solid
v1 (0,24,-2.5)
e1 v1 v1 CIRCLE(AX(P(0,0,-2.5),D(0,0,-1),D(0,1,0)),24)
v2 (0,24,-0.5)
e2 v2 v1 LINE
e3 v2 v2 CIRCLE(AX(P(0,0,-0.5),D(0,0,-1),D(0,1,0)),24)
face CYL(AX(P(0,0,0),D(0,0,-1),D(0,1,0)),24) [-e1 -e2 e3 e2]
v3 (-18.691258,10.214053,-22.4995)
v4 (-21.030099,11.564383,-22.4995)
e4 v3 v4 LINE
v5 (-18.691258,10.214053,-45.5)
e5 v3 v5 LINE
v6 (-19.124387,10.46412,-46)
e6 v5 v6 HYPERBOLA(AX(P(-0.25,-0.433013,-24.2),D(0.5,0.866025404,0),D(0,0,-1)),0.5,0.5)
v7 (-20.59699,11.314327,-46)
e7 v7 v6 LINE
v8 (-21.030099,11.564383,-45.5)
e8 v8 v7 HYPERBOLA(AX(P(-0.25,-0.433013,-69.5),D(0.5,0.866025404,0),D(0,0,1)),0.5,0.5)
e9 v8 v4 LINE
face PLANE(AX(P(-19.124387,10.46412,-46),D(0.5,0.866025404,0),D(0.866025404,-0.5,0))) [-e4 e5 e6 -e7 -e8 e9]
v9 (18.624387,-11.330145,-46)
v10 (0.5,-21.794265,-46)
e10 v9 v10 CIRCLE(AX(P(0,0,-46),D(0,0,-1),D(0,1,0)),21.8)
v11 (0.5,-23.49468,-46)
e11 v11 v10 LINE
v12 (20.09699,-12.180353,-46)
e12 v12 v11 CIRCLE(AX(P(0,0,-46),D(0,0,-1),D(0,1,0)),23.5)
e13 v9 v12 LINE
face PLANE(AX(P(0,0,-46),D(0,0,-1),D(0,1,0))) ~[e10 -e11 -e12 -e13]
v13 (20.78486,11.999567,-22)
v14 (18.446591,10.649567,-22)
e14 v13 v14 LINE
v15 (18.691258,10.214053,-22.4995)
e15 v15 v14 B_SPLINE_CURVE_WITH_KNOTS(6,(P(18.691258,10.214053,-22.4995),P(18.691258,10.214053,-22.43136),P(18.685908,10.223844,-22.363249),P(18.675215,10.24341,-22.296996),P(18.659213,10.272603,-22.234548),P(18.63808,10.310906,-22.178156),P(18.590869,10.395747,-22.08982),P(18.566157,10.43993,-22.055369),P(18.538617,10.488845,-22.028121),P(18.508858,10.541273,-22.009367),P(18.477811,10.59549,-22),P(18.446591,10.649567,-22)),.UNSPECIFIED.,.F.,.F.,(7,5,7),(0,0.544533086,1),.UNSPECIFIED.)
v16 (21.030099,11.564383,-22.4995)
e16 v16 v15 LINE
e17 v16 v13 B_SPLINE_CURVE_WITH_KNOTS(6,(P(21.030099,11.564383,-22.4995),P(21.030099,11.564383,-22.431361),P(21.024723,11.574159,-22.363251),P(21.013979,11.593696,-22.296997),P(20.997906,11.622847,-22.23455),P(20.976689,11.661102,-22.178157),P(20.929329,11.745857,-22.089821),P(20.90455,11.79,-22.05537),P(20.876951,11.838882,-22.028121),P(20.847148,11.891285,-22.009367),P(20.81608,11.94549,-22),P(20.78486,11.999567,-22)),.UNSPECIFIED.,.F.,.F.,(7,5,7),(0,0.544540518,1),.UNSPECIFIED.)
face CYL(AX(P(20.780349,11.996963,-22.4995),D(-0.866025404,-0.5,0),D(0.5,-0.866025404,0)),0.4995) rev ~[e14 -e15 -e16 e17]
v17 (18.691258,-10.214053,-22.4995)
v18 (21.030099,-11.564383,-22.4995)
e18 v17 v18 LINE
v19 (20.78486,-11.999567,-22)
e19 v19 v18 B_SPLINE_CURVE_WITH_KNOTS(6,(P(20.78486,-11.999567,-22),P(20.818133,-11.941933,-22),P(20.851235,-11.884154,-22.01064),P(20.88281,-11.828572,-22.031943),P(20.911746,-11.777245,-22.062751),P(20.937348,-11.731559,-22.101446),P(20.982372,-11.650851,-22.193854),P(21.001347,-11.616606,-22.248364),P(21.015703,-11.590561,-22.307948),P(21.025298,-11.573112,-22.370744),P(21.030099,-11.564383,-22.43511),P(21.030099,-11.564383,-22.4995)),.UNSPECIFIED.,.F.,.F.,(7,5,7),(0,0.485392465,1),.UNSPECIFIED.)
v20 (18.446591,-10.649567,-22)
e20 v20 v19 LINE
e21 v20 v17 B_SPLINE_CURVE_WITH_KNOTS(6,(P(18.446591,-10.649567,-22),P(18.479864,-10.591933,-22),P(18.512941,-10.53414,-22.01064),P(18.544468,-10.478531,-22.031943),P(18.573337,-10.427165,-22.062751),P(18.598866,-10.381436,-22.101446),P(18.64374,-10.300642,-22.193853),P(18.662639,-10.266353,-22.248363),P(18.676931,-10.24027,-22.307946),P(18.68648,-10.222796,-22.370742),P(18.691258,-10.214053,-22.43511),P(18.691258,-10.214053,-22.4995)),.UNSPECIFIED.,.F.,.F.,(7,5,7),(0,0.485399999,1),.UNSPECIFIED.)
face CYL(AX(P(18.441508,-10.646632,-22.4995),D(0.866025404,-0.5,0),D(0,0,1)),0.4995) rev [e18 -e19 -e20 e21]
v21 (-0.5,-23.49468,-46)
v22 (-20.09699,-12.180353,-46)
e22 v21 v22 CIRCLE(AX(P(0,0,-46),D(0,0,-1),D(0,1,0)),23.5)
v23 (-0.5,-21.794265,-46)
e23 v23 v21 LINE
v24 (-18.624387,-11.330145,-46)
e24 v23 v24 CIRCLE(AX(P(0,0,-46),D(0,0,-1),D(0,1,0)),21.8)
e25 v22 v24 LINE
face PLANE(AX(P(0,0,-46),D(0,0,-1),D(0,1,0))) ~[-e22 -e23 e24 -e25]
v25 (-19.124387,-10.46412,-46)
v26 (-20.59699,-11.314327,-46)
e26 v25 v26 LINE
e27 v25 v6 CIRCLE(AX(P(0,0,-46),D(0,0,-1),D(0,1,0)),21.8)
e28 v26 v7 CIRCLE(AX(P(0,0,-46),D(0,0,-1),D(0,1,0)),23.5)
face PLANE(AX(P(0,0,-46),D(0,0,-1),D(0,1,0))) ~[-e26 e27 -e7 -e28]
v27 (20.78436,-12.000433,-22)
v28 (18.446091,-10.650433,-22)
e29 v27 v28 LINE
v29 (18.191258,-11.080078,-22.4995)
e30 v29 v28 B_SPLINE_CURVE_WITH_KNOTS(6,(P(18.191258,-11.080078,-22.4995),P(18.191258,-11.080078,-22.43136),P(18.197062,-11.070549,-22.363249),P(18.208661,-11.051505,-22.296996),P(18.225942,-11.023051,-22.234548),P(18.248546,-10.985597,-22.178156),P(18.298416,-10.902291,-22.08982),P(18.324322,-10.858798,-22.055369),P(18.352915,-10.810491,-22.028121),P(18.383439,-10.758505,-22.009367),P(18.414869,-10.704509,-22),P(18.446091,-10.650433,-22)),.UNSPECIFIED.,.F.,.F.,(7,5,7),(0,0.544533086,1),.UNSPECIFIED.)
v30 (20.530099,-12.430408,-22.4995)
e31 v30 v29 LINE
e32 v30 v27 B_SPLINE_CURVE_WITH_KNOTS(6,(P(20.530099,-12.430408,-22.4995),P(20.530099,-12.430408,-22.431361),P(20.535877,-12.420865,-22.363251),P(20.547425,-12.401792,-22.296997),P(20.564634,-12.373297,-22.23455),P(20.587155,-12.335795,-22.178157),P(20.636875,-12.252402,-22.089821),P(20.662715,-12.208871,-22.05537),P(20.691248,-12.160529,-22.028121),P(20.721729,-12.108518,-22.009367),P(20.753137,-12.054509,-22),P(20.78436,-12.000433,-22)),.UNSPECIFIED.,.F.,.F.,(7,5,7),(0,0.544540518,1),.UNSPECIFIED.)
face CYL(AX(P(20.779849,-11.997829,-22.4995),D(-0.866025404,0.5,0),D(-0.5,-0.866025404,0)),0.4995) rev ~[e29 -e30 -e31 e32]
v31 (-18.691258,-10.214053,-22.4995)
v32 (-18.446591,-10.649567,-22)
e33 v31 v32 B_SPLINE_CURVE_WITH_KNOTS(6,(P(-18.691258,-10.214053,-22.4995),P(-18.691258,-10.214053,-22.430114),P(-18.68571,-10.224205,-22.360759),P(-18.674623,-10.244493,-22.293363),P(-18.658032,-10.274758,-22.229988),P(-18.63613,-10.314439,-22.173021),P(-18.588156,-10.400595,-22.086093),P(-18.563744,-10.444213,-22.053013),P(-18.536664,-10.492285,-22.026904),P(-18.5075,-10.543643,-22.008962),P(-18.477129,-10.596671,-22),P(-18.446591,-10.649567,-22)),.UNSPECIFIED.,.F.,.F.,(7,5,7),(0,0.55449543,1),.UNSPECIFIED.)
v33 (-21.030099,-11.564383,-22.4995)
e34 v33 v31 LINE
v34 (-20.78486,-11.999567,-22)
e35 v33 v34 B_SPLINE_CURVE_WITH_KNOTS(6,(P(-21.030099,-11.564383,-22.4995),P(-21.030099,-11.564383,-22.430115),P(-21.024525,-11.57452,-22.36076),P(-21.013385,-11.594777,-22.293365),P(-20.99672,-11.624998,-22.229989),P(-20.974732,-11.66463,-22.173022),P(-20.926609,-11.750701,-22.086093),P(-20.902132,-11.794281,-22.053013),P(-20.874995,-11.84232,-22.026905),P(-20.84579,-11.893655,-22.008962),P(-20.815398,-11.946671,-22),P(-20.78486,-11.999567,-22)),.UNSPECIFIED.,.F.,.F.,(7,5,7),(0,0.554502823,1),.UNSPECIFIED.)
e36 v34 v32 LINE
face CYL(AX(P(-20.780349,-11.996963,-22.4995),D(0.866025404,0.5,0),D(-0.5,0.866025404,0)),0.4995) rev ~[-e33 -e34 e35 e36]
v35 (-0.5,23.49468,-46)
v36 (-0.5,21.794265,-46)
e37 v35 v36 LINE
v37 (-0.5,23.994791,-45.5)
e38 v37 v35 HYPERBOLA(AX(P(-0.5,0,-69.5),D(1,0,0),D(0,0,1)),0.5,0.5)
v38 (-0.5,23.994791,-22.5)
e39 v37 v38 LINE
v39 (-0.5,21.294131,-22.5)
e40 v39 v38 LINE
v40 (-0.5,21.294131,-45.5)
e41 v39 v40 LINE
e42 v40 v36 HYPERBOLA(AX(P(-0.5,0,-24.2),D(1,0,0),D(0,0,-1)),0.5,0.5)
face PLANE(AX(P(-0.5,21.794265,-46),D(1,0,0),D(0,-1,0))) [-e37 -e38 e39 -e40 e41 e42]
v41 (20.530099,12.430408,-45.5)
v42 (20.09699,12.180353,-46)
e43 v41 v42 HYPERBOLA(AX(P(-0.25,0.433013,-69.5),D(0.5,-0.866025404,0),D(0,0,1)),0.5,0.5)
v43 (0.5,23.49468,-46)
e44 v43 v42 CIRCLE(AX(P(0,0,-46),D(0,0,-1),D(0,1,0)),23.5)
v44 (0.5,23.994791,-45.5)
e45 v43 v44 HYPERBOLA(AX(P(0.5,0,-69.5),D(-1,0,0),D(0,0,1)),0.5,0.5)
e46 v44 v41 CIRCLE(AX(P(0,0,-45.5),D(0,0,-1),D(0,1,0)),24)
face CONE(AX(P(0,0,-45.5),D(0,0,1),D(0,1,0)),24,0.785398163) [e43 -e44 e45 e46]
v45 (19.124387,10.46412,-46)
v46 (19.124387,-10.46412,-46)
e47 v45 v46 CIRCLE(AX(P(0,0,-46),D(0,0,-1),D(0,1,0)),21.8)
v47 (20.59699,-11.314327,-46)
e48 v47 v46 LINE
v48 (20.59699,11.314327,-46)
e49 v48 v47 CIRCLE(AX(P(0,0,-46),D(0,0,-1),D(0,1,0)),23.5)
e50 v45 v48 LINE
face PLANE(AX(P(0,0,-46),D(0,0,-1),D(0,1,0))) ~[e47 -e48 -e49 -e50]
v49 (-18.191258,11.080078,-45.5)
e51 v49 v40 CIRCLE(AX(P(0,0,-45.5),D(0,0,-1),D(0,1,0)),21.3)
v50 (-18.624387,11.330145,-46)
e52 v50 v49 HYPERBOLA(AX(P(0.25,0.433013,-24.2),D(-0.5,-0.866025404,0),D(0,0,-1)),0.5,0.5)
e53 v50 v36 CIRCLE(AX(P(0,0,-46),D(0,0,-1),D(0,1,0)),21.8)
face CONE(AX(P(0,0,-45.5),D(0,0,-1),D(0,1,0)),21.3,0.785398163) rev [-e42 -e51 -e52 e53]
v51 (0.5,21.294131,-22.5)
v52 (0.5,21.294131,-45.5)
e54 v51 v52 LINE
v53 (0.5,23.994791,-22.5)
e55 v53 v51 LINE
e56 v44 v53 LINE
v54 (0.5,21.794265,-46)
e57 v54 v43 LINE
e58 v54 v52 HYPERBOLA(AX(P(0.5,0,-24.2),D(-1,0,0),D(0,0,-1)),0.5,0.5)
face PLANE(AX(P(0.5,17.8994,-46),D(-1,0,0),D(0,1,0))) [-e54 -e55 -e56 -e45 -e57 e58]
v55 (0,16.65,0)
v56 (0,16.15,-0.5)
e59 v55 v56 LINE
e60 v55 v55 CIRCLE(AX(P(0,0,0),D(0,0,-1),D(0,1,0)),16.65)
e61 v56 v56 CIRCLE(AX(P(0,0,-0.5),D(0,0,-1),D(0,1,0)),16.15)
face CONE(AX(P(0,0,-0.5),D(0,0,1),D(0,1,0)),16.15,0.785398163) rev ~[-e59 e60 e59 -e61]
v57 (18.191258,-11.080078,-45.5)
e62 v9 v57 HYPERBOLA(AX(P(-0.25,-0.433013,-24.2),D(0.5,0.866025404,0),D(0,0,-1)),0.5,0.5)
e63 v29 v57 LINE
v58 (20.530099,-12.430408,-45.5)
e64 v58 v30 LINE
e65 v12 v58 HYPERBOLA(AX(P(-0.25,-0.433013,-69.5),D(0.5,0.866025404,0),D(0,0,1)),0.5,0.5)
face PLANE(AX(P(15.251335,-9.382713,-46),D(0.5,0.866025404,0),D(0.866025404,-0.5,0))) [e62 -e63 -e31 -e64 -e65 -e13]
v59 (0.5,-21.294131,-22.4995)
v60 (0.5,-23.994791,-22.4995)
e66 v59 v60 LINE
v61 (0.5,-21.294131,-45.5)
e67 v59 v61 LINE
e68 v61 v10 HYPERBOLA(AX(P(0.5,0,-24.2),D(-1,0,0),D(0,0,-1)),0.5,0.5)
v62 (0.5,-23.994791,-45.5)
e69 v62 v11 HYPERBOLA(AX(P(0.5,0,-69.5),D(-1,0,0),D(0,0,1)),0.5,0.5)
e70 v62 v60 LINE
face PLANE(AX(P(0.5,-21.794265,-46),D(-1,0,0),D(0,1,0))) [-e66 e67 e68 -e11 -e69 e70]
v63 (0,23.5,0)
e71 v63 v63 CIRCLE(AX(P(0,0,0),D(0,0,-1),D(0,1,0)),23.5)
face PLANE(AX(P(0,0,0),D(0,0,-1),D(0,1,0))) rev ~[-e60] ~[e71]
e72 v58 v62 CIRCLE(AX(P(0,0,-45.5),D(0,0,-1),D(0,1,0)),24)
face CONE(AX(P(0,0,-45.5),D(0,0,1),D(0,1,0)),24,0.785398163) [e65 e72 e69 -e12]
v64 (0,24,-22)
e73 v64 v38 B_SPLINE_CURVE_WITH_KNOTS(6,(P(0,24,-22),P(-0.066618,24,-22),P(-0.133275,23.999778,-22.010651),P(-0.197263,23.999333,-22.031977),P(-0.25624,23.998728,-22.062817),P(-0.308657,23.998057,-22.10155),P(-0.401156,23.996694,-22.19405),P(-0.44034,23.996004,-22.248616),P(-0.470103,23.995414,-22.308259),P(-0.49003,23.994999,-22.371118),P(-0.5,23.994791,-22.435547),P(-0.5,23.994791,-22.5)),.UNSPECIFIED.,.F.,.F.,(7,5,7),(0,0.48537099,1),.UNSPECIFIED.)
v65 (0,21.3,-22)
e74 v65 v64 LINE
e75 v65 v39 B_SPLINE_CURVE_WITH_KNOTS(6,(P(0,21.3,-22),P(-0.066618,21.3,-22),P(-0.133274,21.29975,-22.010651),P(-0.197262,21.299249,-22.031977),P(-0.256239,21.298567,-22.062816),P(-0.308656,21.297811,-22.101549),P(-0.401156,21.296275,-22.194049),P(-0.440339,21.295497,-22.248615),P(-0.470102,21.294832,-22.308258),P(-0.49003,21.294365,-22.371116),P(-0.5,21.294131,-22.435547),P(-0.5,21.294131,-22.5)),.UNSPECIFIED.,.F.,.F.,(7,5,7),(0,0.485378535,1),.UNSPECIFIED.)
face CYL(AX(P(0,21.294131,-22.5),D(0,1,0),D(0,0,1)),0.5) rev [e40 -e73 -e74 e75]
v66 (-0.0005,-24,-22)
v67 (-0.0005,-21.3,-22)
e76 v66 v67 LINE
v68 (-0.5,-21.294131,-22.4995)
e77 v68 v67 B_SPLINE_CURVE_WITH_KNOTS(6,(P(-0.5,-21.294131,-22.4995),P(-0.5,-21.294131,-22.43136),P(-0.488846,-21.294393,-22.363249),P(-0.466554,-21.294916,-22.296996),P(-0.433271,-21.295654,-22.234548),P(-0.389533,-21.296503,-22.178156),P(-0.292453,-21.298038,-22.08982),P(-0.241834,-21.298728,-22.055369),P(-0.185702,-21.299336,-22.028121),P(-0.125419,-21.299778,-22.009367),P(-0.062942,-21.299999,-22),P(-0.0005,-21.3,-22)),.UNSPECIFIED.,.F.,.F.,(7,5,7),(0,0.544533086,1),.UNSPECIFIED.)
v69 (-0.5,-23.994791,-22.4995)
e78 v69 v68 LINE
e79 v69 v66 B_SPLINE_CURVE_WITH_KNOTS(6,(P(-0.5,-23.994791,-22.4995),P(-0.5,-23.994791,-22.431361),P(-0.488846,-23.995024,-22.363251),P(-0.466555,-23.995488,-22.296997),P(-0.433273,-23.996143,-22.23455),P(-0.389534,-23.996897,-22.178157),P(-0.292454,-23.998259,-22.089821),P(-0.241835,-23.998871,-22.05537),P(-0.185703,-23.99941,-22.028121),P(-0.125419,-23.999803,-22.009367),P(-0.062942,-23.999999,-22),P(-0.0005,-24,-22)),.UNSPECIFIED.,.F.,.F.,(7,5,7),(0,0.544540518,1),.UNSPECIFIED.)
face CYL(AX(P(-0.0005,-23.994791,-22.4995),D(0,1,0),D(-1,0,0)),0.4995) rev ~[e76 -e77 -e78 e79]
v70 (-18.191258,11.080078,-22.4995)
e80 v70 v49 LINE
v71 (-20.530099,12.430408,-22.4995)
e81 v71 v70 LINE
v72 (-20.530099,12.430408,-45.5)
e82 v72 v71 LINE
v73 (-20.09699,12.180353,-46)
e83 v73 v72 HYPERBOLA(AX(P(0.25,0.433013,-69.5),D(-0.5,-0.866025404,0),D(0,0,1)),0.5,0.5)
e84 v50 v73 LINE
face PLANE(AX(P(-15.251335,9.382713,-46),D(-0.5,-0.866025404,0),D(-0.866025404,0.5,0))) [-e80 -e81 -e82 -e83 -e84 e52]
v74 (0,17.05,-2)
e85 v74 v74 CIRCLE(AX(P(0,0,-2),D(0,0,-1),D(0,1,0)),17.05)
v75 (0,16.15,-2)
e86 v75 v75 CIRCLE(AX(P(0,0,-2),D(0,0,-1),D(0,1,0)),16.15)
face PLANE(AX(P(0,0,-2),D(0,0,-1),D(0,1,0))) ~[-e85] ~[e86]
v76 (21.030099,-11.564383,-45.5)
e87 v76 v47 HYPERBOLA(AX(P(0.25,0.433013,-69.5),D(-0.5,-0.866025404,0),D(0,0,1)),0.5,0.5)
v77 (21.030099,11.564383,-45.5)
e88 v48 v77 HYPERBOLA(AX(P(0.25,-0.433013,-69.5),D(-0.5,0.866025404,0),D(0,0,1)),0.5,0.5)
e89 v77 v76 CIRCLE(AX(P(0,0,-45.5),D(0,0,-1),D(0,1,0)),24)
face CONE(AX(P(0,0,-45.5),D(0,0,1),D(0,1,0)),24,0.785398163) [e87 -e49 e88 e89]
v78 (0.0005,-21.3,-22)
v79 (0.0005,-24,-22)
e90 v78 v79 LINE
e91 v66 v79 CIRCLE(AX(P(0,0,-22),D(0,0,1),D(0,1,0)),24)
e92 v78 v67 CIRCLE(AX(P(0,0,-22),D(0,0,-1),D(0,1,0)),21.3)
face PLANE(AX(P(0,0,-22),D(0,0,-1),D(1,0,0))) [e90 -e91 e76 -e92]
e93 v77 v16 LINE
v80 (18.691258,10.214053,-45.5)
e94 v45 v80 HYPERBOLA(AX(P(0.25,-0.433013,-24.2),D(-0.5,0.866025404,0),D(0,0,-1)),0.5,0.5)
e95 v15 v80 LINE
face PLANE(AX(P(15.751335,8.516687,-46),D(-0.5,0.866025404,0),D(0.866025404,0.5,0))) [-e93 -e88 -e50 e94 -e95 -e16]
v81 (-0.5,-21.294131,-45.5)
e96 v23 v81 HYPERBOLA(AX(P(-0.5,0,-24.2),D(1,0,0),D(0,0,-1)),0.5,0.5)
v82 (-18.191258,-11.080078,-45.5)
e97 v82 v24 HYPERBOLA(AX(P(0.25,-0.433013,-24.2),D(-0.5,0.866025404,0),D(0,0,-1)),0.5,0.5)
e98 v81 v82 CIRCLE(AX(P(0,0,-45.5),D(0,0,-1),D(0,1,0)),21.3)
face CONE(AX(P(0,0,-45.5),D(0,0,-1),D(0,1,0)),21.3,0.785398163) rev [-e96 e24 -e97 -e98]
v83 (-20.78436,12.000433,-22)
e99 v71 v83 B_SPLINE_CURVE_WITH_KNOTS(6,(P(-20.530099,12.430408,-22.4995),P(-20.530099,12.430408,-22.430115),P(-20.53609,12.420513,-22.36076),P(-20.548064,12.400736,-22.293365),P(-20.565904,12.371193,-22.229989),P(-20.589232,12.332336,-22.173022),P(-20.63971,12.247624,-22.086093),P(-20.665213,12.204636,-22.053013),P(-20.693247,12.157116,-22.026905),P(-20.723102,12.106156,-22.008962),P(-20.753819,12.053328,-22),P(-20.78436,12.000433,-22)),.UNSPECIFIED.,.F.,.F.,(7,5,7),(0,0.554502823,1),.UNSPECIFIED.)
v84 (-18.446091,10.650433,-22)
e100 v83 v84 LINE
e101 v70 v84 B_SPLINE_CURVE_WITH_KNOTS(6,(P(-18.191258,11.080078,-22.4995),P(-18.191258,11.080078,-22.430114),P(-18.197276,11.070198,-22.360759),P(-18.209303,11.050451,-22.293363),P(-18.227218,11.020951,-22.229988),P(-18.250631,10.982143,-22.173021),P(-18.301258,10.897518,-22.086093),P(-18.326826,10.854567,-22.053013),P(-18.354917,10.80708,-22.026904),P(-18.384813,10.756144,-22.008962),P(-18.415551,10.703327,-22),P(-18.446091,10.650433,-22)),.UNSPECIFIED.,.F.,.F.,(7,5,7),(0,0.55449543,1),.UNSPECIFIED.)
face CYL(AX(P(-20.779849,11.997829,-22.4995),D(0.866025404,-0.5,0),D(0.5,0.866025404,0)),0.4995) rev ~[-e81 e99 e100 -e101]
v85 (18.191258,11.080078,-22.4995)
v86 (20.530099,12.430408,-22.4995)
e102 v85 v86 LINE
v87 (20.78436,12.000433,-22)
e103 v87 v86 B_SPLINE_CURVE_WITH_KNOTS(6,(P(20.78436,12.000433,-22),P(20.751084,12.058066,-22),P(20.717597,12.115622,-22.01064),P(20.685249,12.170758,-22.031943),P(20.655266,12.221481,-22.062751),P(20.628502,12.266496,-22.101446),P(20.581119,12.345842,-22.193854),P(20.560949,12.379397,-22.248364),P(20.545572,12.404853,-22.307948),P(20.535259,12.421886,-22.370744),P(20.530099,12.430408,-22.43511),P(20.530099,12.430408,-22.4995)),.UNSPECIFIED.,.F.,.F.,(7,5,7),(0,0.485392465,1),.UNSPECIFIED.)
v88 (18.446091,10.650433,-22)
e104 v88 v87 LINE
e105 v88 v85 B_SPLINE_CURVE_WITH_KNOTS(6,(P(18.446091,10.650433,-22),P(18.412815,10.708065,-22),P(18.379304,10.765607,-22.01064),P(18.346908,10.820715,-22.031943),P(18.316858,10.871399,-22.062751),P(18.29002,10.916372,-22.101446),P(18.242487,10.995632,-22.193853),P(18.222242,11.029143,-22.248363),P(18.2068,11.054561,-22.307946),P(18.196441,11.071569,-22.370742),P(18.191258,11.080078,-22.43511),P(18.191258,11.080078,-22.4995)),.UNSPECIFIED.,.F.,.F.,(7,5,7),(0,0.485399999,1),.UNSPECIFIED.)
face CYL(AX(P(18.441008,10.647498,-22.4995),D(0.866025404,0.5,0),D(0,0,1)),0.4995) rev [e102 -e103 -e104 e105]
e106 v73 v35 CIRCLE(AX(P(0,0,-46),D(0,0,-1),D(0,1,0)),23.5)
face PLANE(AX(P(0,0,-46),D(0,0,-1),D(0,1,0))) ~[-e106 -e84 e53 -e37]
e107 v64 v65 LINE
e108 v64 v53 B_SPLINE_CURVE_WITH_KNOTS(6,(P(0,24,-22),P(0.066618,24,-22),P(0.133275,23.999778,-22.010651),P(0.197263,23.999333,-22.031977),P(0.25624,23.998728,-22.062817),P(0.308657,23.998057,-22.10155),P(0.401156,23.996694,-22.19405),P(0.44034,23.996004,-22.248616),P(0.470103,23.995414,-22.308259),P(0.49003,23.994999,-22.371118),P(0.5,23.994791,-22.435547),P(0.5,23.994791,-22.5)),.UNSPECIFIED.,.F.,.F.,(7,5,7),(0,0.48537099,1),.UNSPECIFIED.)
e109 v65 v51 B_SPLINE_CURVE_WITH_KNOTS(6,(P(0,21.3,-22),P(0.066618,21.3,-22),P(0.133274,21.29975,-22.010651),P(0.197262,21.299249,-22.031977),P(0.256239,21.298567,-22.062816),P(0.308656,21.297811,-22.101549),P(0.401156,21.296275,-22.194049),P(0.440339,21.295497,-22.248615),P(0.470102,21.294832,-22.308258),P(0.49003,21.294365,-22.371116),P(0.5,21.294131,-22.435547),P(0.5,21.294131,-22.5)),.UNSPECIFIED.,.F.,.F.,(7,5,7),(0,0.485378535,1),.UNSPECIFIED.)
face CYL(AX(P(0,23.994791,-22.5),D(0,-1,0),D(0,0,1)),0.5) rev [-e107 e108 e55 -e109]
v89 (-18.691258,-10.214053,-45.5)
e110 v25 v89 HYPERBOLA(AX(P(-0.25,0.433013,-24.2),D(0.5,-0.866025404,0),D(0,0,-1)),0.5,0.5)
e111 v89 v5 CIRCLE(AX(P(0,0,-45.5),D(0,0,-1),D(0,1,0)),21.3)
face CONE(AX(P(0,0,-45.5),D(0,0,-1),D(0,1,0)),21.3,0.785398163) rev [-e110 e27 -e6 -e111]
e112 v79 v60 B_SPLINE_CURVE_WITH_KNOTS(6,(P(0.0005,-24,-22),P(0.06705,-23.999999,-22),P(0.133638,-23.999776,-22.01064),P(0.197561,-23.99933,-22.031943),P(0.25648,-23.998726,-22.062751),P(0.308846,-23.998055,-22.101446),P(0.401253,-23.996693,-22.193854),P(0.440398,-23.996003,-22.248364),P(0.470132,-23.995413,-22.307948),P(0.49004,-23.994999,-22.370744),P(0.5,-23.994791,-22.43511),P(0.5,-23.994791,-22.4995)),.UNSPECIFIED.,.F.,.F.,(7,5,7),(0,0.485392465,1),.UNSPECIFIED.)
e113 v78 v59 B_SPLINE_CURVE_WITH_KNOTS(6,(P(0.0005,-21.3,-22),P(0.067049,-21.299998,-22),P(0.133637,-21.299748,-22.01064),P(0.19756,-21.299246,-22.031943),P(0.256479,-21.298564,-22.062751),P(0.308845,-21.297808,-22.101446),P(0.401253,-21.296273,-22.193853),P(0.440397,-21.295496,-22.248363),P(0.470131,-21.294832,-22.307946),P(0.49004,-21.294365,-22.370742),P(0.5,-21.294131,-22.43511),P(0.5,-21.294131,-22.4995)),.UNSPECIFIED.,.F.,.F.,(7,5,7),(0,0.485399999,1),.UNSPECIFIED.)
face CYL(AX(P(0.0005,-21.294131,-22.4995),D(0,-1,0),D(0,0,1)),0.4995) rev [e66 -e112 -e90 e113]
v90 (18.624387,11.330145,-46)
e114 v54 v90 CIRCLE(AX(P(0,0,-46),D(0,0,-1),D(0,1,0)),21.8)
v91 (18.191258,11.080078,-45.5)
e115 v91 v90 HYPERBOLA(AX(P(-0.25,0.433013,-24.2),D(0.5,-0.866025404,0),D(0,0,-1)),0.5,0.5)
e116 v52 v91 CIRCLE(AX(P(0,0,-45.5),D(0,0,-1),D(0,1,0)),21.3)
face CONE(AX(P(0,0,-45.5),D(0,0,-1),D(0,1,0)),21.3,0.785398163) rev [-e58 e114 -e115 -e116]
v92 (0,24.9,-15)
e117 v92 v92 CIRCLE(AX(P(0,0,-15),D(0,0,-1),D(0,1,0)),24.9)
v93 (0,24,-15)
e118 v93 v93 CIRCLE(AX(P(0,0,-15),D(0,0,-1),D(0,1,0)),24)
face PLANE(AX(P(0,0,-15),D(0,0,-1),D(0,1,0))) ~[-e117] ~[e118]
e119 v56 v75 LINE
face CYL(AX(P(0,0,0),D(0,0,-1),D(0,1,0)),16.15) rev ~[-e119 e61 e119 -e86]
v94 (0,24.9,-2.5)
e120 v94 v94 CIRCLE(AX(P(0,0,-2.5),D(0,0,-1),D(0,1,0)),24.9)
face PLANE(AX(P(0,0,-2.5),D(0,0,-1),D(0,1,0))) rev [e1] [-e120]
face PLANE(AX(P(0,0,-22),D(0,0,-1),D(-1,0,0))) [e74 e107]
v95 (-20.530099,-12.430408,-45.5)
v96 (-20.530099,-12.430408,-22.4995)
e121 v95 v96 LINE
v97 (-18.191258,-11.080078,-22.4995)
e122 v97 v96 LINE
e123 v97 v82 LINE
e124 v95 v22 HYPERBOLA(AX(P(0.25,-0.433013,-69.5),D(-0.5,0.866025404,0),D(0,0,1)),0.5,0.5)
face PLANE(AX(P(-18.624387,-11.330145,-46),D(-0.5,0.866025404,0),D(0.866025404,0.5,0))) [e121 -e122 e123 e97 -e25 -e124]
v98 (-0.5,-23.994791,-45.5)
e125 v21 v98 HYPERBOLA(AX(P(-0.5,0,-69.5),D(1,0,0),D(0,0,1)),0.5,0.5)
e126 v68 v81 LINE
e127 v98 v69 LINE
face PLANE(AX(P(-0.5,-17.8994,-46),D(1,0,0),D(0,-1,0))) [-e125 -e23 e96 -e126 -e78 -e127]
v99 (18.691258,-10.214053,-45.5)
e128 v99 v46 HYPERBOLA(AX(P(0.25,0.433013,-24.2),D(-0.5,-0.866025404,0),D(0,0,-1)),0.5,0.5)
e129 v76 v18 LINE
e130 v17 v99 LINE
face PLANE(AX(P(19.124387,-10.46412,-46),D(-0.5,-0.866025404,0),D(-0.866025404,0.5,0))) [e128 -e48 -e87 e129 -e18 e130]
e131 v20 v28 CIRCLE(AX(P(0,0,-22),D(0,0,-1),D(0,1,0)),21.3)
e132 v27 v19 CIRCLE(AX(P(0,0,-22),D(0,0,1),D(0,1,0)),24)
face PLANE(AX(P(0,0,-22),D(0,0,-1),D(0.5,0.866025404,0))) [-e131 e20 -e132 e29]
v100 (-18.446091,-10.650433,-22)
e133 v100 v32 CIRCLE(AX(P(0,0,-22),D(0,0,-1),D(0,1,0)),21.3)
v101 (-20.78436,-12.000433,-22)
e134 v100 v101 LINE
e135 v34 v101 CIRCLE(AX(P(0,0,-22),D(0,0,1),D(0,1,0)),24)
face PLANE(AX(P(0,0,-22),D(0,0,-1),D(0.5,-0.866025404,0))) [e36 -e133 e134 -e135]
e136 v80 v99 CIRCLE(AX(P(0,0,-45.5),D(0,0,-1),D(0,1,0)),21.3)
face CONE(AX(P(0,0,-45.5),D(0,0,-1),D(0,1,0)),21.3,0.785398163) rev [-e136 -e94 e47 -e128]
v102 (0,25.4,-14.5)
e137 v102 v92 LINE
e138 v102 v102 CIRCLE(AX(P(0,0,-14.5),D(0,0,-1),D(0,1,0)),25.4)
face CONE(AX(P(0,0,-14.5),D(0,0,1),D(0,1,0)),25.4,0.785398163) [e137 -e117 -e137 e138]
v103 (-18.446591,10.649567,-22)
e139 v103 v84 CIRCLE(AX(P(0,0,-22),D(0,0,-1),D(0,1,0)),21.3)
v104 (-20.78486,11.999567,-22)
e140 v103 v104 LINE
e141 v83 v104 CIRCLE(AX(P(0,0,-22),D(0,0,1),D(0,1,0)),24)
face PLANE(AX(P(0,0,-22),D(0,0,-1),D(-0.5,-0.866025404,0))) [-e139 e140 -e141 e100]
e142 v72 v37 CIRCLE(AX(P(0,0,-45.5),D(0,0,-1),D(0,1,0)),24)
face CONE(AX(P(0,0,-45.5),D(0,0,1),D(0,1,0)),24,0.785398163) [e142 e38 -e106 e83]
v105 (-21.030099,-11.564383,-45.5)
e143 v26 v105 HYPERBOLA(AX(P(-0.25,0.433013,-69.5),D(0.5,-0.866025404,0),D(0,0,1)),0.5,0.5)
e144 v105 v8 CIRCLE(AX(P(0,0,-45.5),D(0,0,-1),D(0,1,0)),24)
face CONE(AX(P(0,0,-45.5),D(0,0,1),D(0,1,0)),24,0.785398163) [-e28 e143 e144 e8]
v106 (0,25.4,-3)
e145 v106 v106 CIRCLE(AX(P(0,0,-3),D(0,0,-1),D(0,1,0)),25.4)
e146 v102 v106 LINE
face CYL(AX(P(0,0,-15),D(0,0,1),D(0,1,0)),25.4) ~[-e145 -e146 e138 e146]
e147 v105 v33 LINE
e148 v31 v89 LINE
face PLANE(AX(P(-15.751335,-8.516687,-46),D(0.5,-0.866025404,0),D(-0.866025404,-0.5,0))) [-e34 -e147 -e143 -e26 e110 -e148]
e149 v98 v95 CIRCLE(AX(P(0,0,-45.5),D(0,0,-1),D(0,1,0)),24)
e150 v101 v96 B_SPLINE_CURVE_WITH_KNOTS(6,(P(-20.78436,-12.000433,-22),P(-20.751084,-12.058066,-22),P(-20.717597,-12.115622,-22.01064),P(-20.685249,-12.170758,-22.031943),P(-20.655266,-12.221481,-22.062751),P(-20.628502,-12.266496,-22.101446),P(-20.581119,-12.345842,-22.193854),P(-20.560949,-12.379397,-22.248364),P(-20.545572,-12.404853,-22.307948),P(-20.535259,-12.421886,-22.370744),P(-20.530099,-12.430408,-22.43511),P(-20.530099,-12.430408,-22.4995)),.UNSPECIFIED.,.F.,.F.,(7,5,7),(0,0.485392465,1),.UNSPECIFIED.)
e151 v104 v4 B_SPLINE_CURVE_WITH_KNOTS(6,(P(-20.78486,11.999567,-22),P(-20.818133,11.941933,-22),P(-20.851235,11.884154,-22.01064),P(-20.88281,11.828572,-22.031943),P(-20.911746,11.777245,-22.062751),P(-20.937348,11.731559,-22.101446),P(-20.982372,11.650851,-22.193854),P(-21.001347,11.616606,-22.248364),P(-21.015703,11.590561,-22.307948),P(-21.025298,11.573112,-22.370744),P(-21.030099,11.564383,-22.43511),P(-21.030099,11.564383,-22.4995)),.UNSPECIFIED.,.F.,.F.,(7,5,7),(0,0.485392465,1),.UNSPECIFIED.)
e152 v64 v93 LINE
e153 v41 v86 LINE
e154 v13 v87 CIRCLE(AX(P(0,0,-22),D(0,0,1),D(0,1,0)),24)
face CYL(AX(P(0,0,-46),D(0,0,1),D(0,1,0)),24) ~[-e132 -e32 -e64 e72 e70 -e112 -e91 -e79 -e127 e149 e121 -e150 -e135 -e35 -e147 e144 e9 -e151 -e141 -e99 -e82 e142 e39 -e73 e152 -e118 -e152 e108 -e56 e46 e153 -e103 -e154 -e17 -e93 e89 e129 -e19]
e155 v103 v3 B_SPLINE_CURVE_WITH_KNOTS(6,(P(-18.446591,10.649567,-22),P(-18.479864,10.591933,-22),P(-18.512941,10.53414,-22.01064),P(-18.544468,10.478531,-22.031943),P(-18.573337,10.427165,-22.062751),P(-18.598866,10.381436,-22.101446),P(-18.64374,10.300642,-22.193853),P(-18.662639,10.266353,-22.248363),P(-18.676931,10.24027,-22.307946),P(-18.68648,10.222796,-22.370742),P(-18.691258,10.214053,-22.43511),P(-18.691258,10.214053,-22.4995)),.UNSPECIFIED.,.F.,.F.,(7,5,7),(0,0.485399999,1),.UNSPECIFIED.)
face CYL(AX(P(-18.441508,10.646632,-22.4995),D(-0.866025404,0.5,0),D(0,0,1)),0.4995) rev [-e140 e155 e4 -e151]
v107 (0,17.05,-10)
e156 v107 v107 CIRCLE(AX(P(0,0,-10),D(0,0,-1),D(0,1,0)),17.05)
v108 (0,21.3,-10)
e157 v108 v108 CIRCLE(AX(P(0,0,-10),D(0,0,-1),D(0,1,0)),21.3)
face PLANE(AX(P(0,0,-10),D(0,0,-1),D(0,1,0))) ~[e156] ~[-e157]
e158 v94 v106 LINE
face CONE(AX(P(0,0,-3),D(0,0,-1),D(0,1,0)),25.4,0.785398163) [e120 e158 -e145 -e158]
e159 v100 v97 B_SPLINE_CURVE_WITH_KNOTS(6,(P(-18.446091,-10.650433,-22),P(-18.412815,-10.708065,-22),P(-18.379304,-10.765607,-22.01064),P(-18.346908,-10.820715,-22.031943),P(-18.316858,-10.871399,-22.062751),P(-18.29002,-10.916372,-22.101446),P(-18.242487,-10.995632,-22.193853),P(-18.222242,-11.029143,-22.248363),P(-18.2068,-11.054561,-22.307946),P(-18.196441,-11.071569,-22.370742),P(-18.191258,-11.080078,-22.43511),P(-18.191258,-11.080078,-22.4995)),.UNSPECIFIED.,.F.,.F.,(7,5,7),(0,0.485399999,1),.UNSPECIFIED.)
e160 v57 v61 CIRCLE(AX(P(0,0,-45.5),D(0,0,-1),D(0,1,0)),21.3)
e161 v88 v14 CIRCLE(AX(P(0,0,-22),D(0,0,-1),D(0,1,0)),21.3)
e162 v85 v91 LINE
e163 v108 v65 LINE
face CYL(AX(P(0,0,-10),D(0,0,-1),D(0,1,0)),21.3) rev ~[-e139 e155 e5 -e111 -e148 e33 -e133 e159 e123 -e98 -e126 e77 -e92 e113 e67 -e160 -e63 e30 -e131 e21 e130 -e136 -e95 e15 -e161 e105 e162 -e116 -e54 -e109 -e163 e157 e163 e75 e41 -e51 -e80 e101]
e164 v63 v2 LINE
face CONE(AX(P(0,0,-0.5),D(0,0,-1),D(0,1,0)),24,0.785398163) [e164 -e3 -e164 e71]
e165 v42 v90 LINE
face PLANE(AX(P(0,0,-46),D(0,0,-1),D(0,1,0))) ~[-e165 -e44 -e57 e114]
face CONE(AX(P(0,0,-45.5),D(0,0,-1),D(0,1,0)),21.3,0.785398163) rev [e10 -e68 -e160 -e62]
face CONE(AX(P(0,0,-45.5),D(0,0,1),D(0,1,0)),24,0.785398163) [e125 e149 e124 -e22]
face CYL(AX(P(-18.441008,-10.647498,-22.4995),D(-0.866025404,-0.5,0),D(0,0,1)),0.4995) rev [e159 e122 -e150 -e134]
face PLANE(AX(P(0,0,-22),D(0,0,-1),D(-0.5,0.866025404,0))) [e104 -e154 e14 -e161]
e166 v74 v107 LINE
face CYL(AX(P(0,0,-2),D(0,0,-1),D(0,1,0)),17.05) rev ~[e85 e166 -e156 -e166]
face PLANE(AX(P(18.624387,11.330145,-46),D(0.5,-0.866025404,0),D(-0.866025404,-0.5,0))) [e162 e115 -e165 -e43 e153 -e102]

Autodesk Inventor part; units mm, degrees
ref_plane "YZ Plane" through (0, 0, 0) normal (1, 0, 0) x (0, 1, 0)
ref_plane "XZ Plane" through (0, 0, 0) normal (0, 1, 0) x (-1, 0, 0)
ref_plane "XY Plane" through (0, 0, 0) normal (0, 0, 1) x (1, 0, 0)
sketch "Sketch2" plane through (0, 0, 0) normal (1, 0, 0) x (0, 1, 0)
  line L0 (17.05, -2) -> (17.05, -10)
  line L1 (17.05, -10) -> (21.3, -10)
  line L2 (21.3, -10) -> (21.3, -46)
  line L3 (21.3, -46) -> (24, -46)
  line L4 (24, -46) -> (24, -15)
  line L5 (24, -15) -> (25.4, -15)
  line L6 (25.4, -15) -> (25.4, -2.5)
  line L7 (25.4, 0) -> (17.05, 0)
  line L8 (0, 0) -> (0, -55.6888)
  line L9 (17.05, 0) -> (16.15, 0)
  line L10 (16.15, 0) -> (16.15, -2)
  line L11 (16.15, -2) -> (17.05, -2)
  line L12 (17.05, -2) -> (17.05, 0)
  line L13 (25.4, 0) -> (24, 0)
  line L14 (24, 0) -> (24, -2.5)
  line L15 (24, -2.5) -> (25.4, -2.5)
  line L16 (25.4, -2.5) -> (25.4, -2)
  point P0 (24.7, -15)
  dimension "d0" = 10
  dimension "d1" = 36
  dimension "d2" = 17.05
  dimension "d3" = 21.3
  dimension "d4" = 25.4
  dimension "d5" = 24
  dimension "d6" = 15
  dimension "d7" = 2
  dimension "d8" = 0.9
  dimension "d14" = 1.4
  dimension "d15" = 2.5
revolve "Revolution2" add sketch "Sketch2" angle 360 about axis through (0, 0, 0) along (0, 0, -1)
chamfer "Chamfer1" distance 0.5 angle 45 4 edges at (0, -25.4, -15) (0, -16.15, 0) (0, -24, -46) (0, -21.3, -46)
chamfer "Chamfer2" distance 0.5 angle 45 2 edges at (0, -24, 0) (0, -25.4, -2.5)
sketch "Sketch4" plane through (0, 0, -46) normal (0, 0, -1) x (-1, 0, 0)
  line L0 (0.5, 17.8994) -> (-0.5, 17.8994)
  line L1 (-0.5, 17.8994) -> (-0.5, 25.7006)
  line L2 (-0.5, 25.7006) -> (0.5, 25.7006)
  line L3 (0.5, 25.7006) -> (0.5, 17.8994)
  circle A0 centre (0, 0) radius 21.8 projected
  line L4 (0.5, 17.8994) -> (-0.5, 25.7006) construction
  line L5 (-0.5, 17.8994) -> (0.5, 25.7006) construction
  point P0 (0, 21.8)
  dimension "d19" = 1
extrude "Extrusion1" cut sketch "Sketch4" against normal blind 24 contours L0 L1 A0 L3 | A0 L1 L2 L3 picked at (0.0556, 19.1994)
pattern_circular "Circular Pattern1" count 6 over 360 about axis through (0, 0, -10) along (0, 0, 1) of "Extrusion1"
fillet "Fillet1" radius 0.5 2 edges at (-0.5, 22.6445, -22) (0.5, 22.6445, -22)
pattern_circular "Circular Pattern2" count 6 over 360 about axis through (0, 0, -10) along (0, 0, 1) of "Fillet1"
properties part number "Nikon50mm-barebone-mount"
